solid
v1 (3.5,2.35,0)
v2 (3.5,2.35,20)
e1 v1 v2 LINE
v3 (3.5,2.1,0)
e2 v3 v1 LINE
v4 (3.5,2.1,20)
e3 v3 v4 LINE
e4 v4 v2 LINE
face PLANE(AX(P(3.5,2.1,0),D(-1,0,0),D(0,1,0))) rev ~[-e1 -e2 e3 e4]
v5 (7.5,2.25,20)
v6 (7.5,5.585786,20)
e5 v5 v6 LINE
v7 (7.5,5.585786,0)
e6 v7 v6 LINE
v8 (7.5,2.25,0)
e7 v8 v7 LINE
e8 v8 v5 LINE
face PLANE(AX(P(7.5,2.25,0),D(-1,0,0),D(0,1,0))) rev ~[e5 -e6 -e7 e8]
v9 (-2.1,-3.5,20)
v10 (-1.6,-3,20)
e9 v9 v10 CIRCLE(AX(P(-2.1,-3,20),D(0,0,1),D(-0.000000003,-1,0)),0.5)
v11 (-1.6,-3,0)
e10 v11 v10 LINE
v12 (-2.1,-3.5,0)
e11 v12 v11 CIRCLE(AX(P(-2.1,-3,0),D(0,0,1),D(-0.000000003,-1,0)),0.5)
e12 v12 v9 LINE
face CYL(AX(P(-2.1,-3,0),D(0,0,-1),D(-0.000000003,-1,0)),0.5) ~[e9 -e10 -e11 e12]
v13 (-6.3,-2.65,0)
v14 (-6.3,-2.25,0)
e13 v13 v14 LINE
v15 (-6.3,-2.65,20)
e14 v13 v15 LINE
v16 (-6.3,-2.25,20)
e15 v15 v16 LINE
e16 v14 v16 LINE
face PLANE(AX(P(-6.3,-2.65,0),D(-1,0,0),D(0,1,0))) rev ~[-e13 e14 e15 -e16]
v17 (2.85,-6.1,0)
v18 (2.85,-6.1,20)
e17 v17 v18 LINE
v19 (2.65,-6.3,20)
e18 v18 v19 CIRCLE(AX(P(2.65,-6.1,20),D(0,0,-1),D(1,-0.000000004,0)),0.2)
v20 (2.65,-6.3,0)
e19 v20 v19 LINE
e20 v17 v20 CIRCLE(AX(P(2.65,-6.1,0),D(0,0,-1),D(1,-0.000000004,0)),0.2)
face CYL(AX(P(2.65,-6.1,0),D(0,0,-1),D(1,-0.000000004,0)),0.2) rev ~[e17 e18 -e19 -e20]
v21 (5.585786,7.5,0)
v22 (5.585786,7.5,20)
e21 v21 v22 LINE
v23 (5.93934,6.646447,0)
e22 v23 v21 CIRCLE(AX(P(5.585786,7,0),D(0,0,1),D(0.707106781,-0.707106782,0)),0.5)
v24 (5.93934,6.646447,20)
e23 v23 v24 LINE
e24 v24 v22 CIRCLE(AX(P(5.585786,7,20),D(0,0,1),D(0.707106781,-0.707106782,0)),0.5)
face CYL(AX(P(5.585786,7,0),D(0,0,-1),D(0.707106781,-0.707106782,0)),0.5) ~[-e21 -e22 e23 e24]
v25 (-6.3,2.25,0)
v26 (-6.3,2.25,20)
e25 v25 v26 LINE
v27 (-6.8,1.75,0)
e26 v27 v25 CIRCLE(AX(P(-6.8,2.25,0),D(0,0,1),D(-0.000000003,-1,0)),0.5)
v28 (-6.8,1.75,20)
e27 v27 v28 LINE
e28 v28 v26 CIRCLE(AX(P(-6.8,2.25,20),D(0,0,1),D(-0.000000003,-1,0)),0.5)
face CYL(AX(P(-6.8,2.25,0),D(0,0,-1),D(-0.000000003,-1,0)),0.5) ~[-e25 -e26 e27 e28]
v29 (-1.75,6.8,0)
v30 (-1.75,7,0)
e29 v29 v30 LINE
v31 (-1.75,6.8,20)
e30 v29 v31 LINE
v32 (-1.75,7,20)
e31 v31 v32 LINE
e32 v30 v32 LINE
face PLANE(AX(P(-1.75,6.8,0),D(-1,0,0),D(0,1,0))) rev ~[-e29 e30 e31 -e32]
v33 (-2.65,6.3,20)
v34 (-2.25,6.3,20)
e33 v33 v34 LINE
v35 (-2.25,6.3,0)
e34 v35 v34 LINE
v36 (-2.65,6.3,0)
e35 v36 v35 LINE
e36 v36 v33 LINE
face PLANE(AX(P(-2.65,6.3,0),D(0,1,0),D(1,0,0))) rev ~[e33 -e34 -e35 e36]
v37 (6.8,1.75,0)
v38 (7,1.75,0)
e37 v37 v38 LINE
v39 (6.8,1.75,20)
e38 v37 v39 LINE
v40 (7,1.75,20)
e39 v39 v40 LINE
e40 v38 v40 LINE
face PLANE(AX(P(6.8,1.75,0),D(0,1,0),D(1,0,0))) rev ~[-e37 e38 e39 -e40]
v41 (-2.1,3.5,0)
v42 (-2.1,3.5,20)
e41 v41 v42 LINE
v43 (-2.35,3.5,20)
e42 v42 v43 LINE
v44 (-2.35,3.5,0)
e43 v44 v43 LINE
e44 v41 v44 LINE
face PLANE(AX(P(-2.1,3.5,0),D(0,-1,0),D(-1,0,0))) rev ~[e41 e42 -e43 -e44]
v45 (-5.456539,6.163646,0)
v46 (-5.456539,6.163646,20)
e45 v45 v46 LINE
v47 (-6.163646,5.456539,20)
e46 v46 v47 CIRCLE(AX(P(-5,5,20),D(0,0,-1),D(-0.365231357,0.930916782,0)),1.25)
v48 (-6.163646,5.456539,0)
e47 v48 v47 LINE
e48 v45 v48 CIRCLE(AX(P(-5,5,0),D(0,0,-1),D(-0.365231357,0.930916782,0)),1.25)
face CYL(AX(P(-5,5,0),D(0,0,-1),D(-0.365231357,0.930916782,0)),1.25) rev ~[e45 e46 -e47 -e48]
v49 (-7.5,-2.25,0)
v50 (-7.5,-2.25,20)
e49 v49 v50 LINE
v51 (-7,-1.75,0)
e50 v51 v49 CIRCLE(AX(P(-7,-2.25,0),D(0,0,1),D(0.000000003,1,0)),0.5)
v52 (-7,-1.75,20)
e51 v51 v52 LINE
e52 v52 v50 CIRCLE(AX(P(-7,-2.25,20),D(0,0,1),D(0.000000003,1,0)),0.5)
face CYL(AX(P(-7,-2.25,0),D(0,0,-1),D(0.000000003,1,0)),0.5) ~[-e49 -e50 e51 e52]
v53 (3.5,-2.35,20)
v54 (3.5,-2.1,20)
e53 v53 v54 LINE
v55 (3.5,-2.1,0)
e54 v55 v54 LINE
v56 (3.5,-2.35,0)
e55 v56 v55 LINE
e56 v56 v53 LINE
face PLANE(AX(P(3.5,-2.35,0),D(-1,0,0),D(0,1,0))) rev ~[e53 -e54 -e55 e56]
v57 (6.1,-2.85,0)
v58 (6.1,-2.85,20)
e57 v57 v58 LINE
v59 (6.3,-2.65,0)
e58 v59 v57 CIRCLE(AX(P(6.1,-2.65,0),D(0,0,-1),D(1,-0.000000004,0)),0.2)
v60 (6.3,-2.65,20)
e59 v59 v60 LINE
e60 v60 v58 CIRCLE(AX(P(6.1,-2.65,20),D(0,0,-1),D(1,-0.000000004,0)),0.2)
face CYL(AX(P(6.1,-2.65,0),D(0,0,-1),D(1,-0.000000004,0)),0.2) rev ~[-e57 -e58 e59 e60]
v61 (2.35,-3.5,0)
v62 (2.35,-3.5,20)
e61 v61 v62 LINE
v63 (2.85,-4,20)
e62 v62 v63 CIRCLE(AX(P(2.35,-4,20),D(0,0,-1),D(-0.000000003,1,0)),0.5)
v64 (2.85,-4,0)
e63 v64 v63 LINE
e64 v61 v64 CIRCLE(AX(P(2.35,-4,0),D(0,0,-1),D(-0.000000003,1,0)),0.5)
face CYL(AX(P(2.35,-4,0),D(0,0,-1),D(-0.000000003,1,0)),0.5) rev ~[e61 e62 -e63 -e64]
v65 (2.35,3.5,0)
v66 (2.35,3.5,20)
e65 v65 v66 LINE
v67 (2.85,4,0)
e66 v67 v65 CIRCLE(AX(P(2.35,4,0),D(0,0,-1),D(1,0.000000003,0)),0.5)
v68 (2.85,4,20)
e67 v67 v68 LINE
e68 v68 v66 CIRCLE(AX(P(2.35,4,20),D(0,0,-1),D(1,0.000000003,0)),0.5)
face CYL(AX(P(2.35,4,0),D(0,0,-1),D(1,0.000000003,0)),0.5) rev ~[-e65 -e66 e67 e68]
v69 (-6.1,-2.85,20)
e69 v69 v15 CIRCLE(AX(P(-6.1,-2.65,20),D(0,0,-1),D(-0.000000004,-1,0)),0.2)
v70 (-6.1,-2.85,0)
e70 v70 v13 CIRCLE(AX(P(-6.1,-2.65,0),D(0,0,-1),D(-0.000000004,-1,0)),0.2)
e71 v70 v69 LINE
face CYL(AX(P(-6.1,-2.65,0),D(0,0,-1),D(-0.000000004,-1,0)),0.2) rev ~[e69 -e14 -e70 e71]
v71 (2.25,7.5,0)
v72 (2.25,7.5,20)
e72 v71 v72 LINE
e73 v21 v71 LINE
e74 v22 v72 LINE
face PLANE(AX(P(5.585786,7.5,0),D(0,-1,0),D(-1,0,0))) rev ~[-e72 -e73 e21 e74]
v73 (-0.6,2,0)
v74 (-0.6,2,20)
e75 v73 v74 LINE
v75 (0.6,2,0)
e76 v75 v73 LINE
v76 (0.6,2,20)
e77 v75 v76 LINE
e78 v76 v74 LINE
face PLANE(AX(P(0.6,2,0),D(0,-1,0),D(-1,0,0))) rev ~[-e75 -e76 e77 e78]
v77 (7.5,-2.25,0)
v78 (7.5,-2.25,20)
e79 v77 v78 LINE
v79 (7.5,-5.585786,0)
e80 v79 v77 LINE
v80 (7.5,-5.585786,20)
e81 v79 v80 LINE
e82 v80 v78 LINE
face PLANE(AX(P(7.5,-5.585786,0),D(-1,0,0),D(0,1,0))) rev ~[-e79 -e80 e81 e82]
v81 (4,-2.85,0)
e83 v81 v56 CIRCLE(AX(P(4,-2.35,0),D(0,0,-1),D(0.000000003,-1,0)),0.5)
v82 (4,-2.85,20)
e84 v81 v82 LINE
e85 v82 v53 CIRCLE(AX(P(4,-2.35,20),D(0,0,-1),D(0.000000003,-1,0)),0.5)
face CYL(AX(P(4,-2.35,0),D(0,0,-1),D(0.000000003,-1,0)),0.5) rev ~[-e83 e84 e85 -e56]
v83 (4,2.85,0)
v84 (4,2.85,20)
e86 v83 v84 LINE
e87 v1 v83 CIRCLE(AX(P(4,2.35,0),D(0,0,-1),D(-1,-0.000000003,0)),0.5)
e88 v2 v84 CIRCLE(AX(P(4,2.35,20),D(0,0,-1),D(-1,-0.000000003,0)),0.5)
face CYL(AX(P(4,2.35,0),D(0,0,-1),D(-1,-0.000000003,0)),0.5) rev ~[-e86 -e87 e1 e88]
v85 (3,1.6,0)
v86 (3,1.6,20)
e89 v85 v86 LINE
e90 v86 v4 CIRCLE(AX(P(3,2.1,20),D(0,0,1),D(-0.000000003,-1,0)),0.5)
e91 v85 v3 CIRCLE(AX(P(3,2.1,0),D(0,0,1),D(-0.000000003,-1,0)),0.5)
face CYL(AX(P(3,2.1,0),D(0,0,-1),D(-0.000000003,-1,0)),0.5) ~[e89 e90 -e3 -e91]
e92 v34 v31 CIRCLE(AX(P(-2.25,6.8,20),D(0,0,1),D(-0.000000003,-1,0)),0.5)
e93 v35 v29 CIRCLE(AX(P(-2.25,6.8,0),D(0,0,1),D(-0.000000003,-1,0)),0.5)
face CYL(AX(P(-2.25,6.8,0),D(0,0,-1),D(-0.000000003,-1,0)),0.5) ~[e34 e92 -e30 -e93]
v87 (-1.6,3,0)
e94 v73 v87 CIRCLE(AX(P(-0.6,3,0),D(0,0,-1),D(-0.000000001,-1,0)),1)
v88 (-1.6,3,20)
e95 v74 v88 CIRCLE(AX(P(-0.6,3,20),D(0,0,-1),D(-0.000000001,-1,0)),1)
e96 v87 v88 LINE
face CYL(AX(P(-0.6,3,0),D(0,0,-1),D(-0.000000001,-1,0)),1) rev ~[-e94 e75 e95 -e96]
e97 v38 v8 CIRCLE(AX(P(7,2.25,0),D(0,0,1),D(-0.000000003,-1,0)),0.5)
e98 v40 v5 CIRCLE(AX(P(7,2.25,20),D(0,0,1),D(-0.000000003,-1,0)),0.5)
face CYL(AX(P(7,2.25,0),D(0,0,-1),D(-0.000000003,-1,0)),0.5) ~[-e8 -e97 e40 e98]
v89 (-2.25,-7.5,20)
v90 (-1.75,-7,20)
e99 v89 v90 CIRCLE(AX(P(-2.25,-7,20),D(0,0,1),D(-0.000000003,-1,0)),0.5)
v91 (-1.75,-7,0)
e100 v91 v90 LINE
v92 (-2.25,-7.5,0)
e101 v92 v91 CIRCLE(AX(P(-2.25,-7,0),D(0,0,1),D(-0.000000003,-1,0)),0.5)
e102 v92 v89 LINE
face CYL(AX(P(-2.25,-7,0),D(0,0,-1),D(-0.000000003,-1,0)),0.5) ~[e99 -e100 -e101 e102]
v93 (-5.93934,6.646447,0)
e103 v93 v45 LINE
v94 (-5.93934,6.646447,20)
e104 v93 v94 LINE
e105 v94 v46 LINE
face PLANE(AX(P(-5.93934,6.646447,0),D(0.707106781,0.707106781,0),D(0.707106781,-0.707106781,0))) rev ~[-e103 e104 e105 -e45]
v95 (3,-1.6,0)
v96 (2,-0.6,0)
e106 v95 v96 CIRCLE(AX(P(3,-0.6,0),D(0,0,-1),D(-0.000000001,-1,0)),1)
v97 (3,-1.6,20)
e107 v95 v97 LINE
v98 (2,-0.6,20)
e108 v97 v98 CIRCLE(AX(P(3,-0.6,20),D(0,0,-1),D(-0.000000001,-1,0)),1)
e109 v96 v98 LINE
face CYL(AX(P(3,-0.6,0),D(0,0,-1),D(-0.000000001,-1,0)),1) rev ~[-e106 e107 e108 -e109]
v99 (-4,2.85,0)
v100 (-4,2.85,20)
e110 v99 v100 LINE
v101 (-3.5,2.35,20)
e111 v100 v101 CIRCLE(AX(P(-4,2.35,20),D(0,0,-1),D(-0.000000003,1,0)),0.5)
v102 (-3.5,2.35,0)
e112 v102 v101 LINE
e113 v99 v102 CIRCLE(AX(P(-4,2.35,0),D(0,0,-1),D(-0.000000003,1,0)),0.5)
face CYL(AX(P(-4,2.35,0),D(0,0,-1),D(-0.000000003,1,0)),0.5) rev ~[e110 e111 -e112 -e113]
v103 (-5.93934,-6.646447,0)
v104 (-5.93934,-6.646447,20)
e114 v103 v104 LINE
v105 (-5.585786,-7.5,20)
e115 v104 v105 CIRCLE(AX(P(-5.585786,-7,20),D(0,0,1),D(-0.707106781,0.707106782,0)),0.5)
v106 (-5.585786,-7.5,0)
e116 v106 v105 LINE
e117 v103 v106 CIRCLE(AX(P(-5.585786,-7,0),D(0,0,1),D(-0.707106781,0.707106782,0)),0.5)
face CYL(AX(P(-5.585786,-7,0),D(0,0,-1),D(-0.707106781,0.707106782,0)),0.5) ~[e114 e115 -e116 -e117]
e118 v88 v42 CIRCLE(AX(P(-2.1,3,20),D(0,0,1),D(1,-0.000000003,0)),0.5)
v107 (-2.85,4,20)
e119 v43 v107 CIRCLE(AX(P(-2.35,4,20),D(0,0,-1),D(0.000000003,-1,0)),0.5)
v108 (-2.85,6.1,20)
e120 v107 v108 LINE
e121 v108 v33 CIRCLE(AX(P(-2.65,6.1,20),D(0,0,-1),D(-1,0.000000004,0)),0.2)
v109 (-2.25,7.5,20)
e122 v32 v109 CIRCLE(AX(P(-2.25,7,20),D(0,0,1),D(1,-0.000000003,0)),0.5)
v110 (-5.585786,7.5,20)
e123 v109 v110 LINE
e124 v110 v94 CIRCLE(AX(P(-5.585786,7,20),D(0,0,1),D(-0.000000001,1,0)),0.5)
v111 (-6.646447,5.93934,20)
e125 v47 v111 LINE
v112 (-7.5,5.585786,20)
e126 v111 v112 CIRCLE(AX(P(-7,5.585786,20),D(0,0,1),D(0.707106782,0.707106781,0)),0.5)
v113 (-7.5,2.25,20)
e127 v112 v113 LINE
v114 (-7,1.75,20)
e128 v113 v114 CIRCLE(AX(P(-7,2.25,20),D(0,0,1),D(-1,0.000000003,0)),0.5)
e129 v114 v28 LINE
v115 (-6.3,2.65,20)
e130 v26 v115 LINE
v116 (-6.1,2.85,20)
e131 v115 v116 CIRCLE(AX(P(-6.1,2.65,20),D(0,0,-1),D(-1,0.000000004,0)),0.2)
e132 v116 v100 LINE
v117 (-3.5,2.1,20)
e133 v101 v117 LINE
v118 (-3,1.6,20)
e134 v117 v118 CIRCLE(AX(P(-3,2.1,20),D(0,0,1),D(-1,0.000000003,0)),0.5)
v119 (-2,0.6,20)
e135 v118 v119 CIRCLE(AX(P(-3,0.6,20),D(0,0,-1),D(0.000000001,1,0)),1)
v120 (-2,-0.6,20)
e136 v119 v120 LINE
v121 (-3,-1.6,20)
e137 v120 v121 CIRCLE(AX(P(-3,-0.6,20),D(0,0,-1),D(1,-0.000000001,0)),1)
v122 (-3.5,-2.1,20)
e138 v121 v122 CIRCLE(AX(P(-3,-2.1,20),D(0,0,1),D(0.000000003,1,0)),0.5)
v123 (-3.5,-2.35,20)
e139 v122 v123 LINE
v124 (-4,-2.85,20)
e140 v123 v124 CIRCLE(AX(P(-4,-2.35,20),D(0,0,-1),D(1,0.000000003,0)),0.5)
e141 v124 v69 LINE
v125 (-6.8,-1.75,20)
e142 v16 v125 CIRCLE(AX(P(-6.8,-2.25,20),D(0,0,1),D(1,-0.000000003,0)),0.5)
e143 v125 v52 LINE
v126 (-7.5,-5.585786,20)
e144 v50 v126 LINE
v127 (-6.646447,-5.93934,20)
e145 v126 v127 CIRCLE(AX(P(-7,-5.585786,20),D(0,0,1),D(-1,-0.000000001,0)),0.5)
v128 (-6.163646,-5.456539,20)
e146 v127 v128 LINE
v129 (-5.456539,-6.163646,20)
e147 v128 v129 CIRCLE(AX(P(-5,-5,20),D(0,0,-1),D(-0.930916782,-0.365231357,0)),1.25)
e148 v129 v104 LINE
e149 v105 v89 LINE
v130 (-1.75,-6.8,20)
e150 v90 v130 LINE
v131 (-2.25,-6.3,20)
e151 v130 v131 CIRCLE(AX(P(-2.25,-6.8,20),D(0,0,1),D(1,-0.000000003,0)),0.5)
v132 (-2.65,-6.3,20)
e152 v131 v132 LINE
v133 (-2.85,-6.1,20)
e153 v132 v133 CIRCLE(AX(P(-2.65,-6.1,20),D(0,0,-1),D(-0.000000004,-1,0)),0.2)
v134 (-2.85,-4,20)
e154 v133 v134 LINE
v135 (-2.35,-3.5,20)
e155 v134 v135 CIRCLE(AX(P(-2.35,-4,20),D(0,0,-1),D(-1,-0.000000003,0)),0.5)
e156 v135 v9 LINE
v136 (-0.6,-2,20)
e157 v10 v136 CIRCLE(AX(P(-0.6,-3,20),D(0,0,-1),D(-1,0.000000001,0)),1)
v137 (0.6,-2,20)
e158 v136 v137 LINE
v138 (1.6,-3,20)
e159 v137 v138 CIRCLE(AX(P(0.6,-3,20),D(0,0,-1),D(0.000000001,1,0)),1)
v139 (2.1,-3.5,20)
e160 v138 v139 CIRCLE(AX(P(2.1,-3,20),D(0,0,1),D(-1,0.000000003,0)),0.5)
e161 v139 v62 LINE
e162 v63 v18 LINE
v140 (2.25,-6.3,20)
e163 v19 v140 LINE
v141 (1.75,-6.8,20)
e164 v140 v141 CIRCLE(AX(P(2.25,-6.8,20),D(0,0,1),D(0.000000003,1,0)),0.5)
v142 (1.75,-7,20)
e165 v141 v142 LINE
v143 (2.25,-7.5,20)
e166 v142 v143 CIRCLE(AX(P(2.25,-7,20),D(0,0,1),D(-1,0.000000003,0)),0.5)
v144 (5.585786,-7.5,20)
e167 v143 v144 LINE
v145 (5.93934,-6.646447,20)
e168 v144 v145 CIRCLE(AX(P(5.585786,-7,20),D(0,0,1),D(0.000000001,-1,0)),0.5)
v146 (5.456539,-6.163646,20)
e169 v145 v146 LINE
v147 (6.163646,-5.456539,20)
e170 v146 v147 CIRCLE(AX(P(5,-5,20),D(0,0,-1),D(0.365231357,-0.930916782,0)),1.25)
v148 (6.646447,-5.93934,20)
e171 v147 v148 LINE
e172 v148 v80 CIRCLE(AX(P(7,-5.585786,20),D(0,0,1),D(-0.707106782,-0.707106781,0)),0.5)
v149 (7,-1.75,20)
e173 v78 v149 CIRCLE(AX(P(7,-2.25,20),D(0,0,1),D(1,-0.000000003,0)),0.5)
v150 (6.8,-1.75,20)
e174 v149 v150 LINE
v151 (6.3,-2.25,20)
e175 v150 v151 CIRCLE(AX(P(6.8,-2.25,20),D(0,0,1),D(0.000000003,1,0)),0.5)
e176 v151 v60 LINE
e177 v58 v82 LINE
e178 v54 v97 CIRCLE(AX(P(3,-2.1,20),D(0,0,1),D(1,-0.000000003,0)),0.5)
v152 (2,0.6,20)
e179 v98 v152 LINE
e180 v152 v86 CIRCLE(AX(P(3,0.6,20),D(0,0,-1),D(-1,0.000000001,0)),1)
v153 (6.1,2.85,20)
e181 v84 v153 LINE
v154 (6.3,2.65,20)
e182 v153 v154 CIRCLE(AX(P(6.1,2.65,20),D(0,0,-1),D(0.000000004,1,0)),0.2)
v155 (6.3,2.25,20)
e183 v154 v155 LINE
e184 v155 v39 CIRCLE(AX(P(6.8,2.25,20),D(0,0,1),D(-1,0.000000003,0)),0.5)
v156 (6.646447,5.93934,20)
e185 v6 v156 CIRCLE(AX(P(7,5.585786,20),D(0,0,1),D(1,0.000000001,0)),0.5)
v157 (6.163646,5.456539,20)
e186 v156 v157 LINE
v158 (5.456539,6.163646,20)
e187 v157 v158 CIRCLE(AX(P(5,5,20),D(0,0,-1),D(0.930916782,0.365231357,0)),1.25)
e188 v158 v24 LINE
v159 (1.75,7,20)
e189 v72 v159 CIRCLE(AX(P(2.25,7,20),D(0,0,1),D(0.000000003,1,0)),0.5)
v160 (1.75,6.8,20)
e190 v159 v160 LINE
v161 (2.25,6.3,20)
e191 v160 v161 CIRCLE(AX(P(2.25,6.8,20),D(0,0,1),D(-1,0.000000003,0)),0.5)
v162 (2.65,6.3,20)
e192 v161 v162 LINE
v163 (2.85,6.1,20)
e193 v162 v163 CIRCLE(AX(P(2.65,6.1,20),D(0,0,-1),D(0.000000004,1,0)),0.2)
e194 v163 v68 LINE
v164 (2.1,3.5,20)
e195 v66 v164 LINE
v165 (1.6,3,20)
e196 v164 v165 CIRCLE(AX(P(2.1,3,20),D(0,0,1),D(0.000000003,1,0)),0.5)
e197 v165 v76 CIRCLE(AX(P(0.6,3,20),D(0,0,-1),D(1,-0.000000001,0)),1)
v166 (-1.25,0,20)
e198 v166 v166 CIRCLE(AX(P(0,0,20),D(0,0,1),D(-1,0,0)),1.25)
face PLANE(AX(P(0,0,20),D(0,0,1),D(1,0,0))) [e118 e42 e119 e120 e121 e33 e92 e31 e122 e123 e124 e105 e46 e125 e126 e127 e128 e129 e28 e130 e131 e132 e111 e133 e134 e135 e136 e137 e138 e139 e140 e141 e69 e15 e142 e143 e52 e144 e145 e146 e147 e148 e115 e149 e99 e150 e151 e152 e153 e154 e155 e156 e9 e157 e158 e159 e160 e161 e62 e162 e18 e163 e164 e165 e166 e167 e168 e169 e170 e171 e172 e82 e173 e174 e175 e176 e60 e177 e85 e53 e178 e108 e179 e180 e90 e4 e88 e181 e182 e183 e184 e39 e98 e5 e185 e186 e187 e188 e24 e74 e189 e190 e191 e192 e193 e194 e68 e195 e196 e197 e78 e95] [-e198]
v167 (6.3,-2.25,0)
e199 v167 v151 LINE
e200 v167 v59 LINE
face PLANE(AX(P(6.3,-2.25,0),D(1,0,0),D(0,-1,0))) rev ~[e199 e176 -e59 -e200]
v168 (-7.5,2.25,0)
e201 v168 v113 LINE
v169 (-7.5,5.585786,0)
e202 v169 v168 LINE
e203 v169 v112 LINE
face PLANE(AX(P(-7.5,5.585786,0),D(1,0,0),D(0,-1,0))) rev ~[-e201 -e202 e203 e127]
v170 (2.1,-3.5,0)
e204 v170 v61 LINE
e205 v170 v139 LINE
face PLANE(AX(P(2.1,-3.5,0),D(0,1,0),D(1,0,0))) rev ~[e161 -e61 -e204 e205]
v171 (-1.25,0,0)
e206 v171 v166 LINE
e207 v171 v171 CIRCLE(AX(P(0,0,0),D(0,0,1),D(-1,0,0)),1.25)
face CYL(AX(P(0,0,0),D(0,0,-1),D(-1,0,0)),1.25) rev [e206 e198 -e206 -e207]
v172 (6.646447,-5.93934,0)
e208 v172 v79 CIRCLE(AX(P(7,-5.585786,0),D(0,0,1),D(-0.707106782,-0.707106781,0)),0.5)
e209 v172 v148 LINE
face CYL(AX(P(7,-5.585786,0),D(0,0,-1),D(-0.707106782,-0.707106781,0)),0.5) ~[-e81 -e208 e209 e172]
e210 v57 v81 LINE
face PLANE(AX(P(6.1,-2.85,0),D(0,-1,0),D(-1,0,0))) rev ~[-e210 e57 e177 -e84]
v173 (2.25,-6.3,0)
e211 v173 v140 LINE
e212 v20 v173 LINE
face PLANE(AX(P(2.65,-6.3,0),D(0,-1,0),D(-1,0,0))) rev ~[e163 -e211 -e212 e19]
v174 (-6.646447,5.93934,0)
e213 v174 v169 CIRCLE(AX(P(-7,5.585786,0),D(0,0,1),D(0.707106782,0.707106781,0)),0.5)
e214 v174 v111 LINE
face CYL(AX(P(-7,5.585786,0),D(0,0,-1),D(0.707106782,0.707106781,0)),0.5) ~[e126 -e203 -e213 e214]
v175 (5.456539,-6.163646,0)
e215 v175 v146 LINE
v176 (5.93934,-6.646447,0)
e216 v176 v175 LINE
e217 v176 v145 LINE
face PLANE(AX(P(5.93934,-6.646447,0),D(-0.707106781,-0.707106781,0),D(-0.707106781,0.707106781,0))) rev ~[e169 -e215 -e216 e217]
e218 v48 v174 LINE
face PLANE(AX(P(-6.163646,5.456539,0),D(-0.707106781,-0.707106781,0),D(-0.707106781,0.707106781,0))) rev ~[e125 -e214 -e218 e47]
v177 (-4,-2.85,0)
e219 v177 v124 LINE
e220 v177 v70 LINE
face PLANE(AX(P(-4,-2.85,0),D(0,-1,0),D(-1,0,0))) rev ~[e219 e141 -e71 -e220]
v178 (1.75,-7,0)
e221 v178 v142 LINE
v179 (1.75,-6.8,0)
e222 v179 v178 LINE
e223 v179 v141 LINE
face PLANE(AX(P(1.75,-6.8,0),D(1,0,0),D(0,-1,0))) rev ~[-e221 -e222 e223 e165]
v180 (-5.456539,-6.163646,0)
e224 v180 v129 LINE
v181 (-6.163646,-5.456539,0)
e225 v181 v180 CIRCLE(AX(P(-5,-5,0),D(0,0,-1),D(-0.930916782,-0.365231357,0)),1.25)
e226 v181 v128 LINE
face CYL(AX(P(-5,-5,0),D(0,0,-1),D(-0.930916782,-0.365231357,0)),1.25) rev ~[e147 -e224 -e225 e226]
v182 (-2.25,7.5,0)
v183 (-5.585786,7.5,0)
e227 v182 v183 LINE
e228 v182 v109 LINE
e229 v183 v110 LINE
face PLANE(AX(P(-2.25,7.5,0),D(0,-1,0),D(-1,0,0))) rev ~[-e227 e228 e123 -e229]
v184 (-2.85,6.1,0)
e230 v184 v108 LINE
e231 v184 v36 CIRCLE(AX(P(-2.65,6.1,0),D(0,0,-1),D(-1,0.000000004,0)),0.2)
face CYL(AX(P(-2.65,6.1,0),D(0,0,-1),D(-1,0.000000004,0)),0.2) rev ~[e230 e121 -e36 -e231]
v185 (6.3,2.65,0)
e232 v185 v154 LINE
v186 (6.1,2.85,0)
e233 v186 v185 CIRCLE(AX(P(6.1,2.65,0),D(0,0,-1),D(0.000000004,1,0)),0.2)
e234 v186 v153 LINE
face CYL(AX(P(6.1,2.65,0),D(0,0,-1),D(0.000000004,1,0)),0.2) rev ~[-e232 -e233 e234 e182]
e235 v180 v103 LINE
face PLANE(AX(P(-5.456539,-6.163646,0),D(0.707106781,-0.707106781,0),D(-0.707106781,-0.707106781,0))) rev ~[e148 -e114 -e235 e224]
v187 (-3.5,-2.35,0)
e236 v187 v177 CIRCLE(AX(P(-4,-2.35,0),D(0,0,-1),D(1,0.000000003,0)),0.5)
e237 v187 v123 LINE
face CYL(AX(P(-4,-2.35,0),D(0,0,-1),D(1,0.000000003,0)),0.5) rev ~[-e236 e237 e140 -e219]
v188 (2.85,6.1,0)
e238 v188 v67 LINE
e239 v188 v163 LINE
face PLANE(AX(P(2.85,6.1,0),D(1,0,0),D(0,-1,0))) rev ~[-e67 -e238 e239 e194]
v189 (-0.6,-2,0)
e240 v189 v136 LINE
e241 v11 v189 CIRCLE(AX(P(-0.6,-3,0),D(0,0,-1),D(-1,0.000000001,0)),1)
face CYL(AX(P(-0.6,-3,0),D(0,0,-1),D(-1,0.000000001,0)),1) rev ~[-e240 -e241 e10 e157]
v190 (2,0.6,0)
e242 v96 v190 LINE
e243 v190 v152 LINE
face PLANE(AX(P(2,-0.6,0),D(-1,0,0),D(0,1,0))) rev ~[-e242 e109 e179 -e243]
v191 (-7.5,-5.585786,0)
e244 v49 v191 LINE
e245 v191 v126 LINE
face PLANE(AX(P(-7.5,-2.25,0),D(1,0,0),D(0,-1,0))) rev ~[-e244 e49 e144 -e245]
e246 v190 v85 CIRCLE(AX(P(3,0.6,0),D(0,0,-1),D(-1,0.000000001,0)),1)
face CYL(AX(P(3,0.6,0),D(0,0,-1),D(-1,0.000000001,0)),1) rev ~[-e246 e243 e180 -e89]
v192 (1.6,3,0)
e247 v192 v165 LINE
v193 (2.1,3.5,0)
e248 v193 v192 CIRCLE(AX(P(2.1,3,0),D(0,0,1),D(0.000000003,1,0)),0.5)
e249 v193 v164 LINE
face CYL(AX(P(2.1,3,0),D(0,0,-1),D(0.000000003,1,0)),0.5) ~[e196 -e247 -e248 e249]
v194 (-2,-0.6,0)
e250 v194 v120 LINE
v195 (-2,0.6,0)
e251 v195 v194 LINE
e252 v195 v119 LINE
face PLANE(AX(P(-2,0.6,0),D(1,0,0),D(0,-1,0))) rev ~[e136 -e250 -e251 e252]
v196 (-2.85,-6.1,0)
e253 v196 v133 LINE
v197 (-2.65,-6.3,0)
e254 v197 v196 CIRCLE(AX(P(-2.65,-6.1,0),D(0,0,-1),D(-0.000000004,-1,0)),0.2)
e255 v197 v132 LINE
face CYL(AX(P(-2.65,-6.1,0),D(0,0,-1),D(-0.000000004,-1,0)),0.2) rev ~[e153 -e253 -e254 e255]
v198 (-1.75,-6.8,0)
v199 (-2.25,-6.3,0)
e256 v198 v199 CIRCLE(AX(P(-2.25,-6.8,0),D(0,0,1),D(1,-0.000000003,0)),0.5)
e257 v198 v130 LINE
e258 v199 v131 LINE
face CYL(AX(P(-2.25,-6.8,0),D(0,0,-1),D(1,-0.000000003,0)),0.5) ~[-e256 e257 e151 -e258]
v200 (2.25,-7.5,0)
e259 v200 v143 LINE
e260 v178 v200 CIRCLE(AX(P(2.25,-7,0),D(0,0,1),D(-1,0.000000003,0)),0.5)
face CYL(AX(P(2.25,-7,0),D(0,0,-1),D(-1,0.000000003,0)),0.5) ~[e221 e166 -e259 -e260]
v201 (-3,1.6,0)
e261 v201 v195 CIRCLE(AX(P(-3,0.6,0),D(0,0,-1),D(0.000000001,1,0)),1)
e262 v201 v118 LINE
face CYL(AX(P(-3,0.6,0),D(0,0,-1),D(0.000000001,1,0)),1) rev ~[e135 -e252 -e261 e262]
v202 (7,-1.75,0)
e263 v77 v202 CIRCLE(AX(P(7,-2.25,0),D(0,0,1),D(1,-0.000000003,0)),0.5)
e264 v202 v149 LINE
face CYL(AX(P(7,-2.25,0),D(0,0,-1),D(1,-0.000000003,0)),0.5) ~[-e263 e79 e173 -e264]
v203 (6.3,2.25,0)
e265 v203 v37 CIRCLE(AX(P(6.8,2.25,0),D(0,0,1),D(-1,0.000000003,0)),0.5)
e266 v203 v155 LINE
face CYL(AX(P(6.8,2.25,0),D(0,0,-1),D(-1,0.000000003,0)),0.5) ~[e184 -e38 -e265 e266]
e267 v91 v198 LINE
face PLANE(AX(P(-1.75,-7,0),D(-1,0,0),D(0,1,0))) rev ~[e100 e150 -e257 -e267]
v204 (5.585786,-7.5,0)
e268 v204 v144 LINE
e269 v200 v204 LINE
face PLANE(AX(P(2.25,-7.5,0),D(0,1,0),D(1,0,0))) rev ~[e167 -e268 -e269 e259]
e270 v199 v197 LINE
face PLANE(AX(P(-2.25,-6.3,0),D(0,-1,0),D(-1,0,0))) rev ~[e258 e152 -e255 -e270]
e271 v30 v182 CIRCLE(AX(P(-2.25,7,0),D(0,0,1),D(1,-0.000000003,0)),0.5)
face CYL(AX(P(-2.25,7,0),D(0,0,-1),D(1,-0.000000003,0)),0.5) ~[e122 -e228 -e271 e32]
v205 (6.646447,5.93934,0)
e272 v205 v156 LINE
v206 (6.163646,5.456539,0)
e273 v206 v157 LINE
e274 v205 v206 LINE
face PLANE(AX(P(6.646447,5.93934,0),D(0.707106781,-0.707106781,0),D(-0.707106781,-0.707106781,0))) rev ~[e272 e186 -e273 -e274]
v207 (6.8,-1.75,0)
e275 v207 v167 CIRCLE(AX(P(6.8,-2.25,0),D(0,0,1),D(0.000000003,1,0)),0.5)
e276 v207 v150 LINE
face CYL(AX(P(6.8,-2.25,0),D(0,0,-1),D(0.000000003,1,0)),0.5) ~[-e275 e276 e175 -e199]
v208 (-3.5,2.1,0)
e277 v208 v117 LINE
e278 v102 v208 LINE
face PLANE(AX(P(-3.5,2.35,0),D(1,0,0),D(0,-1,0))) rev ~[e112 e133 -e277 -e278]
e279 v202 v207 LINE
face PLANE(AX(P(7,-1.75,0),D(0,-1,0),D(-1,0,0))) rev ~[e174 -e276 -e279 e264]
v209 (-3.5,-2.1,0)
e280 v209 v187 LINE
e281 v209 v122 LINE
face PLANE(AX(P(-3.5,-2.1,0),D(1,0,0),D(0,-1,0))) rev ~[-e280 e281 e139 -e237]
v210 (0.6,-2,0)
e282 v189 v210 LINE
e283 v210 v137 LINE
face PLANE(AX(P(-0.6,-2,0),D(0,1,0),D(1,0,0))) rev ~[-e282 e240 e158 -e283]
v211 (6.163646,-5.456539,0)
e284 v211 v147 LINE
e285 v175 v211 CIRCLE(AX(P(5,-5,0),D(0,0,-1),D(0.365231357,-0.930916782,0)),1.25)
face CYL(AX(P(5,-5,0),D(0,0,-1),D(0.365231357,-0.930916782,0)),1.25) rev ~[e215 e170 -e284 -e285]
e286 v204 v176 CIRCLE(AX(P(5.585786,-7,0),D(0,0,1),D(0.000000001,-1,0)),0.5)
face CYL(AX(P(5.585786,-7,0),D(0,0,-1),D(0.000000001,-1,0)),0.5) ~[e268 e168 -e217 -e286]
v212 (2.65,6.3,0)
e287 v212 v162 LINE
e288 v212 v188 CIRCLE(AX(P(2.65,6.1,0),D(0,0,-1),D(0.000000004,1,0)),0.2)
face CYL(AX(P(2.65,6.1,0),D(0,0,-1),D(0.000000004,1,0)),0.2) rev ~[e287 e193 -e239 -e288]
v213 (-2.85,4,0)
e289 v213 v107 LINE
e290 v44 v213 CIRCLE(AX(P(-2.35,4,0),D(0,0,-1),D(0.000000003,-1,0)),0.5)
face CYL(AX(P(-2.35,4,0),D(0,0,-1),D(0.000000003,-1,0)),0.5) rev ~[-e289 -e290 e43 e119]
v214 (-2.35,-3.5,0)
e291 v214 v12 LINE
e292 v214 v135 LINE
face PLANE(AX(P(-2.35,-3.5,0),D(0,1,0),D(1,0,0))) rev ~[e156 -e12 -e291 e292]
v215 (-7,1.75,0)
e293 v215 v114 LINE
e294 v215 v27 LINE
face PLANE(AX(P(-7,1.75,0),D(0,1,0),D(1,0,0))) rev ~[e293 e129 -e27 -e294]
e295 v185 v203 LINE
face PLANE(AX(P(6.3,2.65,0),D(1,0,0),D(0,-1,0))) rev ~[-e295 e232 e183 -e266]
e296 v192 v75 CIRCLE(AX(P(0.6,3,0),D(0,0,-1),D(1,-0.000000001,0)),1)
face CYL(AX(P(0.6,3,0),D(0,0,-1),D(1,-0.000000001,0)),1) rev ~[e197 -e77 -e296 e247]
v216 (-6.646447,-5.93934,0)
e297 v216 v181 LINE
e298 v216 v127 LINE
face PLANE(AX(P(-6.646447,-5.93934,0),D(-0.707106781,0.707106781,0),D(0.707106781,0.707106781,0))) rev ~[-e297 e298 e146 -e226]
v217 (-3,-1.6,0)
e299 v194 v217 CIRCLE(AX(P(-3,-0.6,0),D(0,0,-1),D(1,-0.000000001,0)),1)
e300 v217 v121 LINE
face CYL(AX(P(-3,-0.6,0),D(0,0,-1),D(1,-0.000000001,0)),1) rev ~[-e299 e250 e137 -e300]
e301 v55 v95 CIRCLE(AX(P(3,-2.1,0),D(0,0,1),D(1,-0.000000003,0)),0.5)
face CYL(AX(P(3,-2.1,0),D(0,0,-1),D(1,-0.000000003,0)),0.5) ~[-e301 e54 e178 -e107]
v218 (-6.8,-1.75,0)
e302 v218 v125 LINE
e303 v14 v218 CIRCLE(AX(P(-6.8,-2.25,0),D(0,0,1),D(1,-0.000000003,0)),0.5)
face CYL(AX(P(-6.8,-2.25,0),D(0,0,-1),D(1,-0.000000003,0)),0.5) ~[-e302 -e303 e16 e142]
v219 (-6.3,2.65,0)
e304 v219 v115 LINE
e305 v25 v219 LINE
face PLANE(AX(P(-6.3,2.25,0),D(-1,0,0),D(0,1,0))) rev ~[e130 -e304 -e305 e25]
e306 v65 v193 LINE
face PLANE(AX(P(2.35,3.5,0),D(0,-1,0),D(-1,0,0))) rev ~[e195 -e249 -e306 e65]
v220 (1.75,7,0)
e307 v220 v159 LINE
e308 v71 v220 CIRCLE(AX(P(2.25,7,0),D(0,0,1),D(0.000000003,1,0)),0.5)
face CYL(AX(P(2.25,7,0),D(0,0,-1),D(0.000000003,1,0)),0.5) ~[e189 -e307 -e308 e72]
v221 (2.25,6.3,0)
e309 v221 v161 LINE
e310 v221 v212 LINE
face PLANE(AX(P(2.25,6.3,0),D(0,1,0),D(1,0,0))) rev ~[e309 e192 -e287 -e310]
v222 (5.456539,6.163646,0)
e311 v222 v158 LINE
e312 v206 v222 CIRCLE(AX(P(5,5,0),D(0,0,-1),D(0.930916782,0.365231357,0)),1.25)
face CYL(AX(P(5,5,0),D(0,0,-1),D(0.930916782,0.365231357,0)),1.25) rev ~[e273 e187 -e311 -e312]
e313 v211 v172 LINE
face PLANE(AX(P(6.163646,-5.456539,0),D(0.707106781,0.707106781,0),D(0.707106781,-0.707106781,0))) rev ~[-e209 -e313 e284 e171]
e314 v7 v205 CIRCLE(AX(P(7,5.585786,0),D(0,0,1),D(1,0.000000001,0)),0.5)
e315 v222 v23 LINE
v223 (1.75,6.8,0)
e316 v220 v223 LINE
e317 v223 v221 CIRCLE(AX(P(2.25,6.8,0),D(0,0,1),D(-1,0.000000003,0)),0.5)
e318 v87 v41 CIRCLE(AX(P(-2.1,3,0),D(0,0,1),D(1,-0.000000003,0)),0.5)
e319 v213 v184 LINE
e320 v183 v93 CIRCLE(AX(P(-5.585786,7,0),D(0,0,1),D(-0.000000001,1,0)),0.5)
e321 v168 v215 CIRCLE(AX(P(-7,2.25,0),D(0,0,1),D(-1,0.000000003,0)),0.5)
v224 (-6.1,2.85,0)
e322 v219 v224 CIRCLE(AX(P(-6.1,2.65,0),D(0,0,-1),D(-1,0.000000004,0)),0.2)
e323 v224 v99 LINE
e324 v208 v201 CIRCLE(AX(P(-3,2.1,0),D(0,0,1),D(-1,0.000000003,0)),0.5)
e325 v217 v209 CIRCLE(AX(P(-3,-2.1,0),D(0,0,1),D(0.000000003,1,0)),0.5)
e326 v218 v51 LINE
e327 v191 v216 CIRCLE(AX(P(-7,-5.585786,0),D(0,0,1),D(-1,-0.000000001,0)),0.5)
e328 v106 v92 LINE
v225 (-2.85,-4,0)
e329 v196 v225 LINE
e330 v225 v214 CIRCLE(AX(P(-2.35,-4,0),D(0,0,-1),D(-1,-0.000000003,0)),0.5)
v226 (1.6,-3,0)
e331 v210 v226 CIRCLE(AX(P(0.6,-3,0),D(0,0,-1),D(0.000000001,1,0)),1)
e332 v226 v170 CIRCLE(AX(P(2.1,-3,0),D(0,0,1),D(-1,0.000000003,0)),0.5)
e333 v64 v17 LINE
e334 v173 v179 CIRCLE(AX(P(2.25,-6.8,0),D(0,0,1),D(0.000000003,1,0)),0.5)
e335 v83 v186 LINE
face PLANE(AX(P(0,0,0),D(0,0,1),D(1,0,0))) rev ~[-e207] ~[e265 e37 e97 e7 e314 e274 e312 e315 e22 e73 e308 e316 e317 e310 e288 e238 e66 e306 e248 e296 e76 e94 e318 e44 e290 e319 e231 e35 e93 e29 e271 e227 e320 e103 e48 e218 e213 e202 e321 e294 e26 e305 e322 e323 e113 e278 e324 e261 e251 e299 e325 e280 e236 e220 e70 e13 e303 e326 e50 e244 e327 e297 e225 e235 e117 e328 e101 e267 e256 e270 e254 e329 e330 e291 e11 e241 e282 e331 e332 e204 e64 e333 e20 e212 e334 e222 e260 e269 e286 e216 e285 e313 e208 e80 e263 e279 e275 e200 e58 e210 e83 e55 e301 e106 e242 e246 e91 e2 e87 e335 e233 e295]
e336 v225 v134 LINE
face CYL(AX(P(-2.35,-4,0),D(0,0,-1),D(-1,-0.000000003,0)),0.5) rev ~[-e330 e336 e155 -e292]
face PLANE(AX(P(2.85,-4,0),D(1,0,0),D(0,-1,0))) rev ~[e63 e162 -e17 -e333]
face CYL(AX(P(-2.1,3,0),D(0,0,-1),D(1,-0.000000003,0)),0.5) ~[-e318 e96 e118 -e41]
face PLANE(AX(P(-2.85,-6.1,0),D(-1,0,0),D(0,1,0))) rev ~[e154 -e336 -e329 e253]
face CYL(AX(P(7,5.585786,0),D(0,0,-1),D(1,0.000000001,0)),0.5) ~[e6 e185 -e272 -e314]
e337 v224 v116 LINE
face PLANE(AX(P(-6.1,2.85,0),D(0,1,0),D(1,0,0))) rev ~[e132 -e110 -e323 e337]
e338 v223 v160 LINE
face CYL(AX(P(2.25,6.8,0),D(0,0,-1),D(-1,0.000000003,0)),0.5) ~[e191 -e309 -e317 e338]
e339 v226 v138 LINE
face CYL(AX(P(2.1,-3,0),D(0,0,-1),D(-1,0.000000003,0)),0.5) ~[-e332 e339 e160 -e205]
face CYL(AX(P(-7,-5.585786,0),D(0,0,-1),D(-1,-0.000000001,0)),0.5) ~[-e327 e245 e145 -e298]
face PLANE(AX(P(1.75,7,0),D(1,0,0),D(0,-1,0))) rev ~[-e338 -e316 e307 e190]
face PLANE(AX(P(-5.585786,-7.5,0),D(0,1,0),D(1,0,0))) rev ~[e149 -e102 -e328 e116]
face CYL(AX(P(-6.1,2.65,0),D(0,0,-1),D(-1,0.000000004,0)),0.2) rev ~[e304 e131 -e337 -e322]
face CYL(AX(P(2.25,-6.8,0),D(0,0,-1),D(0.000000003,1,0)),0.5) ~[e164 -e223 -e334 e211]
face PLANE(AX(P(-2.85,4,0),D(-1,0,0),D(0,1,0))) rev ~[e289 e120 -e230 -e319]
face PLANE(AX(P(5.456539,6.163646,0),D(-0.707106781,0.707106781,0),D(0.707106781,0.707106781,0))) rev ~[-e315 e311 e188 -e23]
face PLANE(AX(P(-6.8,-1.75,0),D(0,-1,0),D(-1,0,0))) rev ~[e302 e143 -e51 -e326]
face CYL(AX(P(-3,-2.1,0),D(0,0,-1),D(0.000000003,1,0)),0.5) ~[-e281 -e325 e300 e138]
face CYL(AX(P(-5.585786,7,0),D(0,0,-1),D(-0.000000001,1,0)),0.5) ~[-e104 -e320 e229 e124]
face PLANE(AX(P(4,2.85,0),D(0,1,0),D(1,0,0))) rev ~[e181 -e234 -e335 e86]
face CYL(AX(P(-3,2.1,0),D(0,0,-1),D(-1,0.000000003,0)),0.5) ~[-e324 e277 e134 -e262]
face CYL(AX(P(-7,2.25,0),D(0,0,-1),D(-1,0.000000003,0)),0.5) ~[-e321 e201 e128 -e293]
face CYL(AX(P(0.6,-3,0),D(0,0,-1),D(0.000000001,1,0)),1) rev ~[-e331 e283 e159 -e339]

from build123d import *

# Parameters (mm, degrees)
SKETCH1_R           = 1.25
BOSS_EXTRUDE1_DEPTH = 20


with BuildPart() as part:
    # Sketch1 → Boss-Extrude1 (new body)
    with BuildSketch(Plane.XY):
        with BuildLine():
            Line((6.646446609, 5.939339828), (6.163645978, 5.456539197))
            ThreePointArc((6.163645978, 5.456539197), (4.116116524, 4.116116524), (5.456539197, 6.163645978))
            Line((5.456539197, 6.163645978), (5.939339828, 6.646446609))
            ThreePointArc((5.939339828, 6.646446609), (6.047726204, 7.191341716), (5.585786438, 7.5))
            Line((5.585786438, 7.5), (2.25, 7.5))
            ThreePointArc((2.25, 7.5), (1.896446609, 7.353553391), (1.75, 7))
            Line((1.75, 7), (1.75, 6.8))
            ThreePointArc((1.75, 6.8), (1.896446609, 6.446446609), (2.25, 6.3))
            Line((2.25, 6.3), (2.65, 6.3))
            ThreePointArc((2.65, 6.3), (2.791421356, 6.241421356), (2.85, 6.1))
            Line((2.85, 6.1), (2.85, 4))
            ThreePointArc((2.85, 4), (2.703553391, 3.646446609), (2.35, 3.5))
            Line((2.35, 3.5), (2.1, 3.5))
            ThreePointArc((2.1, 3.5), (1.746446609, 3.353553391), (1.6, 3))
            ThreePointArc((1.6, 3), (1.307106781, 2.292893219), (0.6, 2))
            Line((0.6, 2), (-0.6, 2))
            ThreePointArc((-0.6, 2), (-1.307106781, 2.292893219), (-1.6, 3))
            ThreePointArc((-1.6, 3), (-1.746446609, 3.353553391), (-2.1, 3.5))
            Line((-2.1, 3.5), (-2.35, 3.5))
            ThreePointArc((-2.35, 3.5), (-2.703553391, 3.646446609), (-2.85, 4))
            Line((-2.85, 4), (-2.85, 6.1))
            ThreePointArc((-2.85, 6.1), (-2.791421356, 6.241421356), (-2.65, 6.3))
            Line((-2.65, 6.3), (-2.25, 6.3))
            ThreePointArc((-2.25, 6.3), (-1.896446609, 6.446446609), (-1.75, 6.8))
            Line((-1.75, 6.8), (-1.75, 7))
            ThreePointArc((-1.75, 7), (-1.896446609, 7.353553391), (-2.25, 7.5))
            Line((-2.25, 7.5), (-5.585786438, 7.5))
            ThreePointArc((-5.585786438, 7.5), (-6.047726204, 7.191341716), (-5.939339828, 6.646446609))
            Line((-5.939339828, 6.646446609), (-5.456539197, 6.163645978))
            ThreePointArc((-5.456539197, 6.163645978), (-4.116116524, 4.116116524), (-6.163645978, 5.456539197))
            Line((-6.163645978, 5.456539197), (-6.646446609, 5.939339828))
            ThreePointArc((-6.646446609, 5.939339828), (-7.191341716, 6.047726204), (-7.5, 5.585786438))
            Line((-7.5, 5.585786438), (-7.5, 2.25))
            ThreePointArc((-7.5, 2.25), (-7.353553391, 1.896446609), (-7, 1.75))
            Line((-7, 1.75), (-6.8, 1.75))
            ThreePointArc((-6.8, 1.75), (-6.446446609, 1.896446609), (-6.3, 2.25))
            Line((-6.3, 2.25), (-6.3, 2.65))
            ThreePointArc((-6.3, 2.65), (-6.241421356, 2.791421356), (-6.1, 2.85))
            Line((-6.1, 2.85), (-4, 2.85))
            ThreePointArc((-4, 2.85), (-3.646446609, 2.703553391), (-3.5, 2.35))
            Line((-3.5, 2.35), (-3.5, 2.1))
            ThreePointArc((-3.5, 2.1), (-3.353553391, 1.746446609), (-3, 1.6))
            ThreePointArc((-3, 1.6), (-2.292893219, 1.307106781), (-2, 0.6))
            Line((-2, 0.6), (-2, -0.6))
            ThreePointArc((-2, -0.6), (-2.292893219, -1.307106781), (-3, -1.6))
            ThreePointArc((-3, -1.6), (-3.353553391, -1.746446609), (-3.5, -2.1))
            Line((-3.5, -2.1), (-3.5, -2.35))
            ThreePointArc((-3.5, -2.35), (-3.646446609, -2.703553391), (-4, -2.85))
            Line((-4, -2.85), (-6.1, -2.85))
            ThreePointArc((-6.1, -2.85), (-6.241421356, -2.791421356), (-6.3, -2.65))
            Line((-6.3, -2.65), (-6.3, -2.25))
            ThreePointArc((-6.3, -2.25), (-6.446446609, -1.896446609), (-6.8, -1.75))
            Line((-6.8, -1.75), (-7, -1.75))
            ThreePointArc((-7, -1.75), (-7.353553391, -1.896446609), (-7.5, -2.25))
            Line((-7.5, -2.25), (-7.5, -5.585786438))
            ThreePointArc((-7.5, -5.585786438), (-7.191341716, -6.047726204), (-6.646446609, -5.939339828))
            Line((-6.646446609, -5.939339828), (-6.163645978, -5.456539197))
            ThreePointArc((-6.163645978, -5.456539197), (-4.116116524, -4.116116524), (-5.456539197, -6.163645978))
            Line((-5.456539197, -6.163645978), (-5.939339828, -6.646446609))
            ThreePointArc((-5.939339828, -6.646446609), (-6.047726204, -7.191341716), (-5.585786438, -7.5))
            Line((-5.585786438, -7.5), (-2.25, -7.5))
            ThreePointArc((-2.25, -7.5), (-1.896446609, -7.353553391), (-1.75, -7))
            Line((-1.75, -7), (-1.75, -6.8))
            ThreePointArc((-1.75, -6.8), (-1.896446609, -6.446446609), (-2.25, -6.3))
            Line((-2.25, -6.3), (-2.65, -6.3))
            ThreePointArc((-2.65, -6.3), (-2.791421356, -6.241421356), (-2.85, -6.1))
            Line((-2.85, -6.1), (-2.85, -4))
            ThreePointArc((-2.85, -4), (-2.703553391, -3.646446609), (-2.35, -3.5))
            Line((-2.35, -3.5), (-2.1, -3.5))
            ThreePointArc((-2.1, -3.5), (-1.746446609, -3.353553391), (-1.6, -3))
            ThreePointArc((-1.6, -3), (-1.307106781, -2.292893219), (-0.6, -2))
            Line((-0.6, -2), (0.6, -2))
            ThreePointArc((0.6, -2), (1.307106781, -2.292893219), (1.6, -3))
            ThreePointArc((1.6, -3), (1.746446609, -3.353553391), (2.1, -3.5))
            Line((2.1, -3.5), (2.35, -3.5))
            ThreePointArc((2.35, -3.5), (2.703553391, -3.646446609), (2.85, -4))
            Line((2.85, -4), (2.85, -6.1))
            ThreePointArc((2.85, -6.1), (2.791421356, -6.241421356), (2.65, -6.3))
            Line((2.65, -6.3), (2.25, -6.3))
            ThreePointArc((2.25, -6.3), (1.896446609, -6.446446609), (1.75, -6.8))
            Line((1.75, -6.8), (1.75, -7))
            ThreePointArc((1.75, -7), (1.896446609, -7.353553391), (2.25, -7.5))
            Line((2.25, -7.5), (5.585786438, -7.5))
            ThreePointArc((5.585786438, -7.5), (6.047726204, -7.191341716), (5.939339828, -6.646446609))
            Line((5.939339828, -6.646446609), (5.456539197, -6.163645978))
            ThreePointArc((5.456539197, -6.163645978), (4.116116524, -4.116116524), (6.163645978, -5.456539197))
            Line((6.163645978, -5.456539197), (6.646446609, -5.939339828))
            ThreePointArc((6.646446609, -5.939339828), (7.191341716, -6.047726204), (7.5, -5.585786438))
            Line((7.5, -5.585786438), (7.5, -2.25))
            ThreePointArc((7.5, -2.25), (7.353553391, -1.896446609), (7, -1.75))
            Line((7, -1.75), (6.8, -1.75))
            ThreePointArc((6.8, -1.75), (6.446446609, -1.896446609), (6.3, -2.25))
            Line((6.3, -2.25), (6.3, -2.65))
            ThreePointArc((6.3, -2.65), (6.241421356, -2.791421356), (6.1, -2.85))
            Line((6.1, -2.85), (4, -2.85))
            ThreePointArc((4, -2.85), (3.646446609, -2.703553391), (3.5, -2.35))
            Line((3.5, -2.35), (3.5, -2.1))
            ThreePointArc((3.5, -2.1), (3.353553391, -1.746446609), (3, -1.6))
            ThreePointArc((3, -1.6), (2.292893219, -1.307106781), (2, -0.6))
            Line((2, -0.6), (2, 0.6))
            ThreePointArc((2, 0.6), (2.292893219, 1.307106781), (3, 1.6))
            ThreePointArc((3, 1.6), (3.353553391, 1.746446609), (3.5, 2.1))
            Line((3.5, 2.1), (3.5, 2.35))
            ThreePointArc((3.5, 2.35), (3.646446609, 2.703553391), (4, 2.85))
            Line((4, 2.85), (6.1, 2.85))
            ThreePointArc((6.1, 2.85), (6.241421356, 2.791421356), (6.3, 2.65))
            Line((6.3, 2.65), (6.3, 2.25))
            ThreePointArc((6.3, 2.25), (6.446446609, 1.896446609), (6.8, 1.75))
            Line((6.8, 1.75), (7, 1.75))
            ThreePointArc((7, 1.75), (7.353553391, 1.896446609), (7.5, 2.25))
            Line((7.5, 2.25), (7.5, 5.585786438))
            ThreePointArc((7.5, 5.585786438), (7.191341716, 6.047726204), (6.646446609, 5.939339828))
        make_face()
        with Locations(Location((0, 0, 0), (0, 0, 180))):
            Circle(SKETCH1_R, mode=Mode.SUBTRACT)
    extrude(amount=BOSS_EXTRUDE1_DEPTH)


solid = part.part
